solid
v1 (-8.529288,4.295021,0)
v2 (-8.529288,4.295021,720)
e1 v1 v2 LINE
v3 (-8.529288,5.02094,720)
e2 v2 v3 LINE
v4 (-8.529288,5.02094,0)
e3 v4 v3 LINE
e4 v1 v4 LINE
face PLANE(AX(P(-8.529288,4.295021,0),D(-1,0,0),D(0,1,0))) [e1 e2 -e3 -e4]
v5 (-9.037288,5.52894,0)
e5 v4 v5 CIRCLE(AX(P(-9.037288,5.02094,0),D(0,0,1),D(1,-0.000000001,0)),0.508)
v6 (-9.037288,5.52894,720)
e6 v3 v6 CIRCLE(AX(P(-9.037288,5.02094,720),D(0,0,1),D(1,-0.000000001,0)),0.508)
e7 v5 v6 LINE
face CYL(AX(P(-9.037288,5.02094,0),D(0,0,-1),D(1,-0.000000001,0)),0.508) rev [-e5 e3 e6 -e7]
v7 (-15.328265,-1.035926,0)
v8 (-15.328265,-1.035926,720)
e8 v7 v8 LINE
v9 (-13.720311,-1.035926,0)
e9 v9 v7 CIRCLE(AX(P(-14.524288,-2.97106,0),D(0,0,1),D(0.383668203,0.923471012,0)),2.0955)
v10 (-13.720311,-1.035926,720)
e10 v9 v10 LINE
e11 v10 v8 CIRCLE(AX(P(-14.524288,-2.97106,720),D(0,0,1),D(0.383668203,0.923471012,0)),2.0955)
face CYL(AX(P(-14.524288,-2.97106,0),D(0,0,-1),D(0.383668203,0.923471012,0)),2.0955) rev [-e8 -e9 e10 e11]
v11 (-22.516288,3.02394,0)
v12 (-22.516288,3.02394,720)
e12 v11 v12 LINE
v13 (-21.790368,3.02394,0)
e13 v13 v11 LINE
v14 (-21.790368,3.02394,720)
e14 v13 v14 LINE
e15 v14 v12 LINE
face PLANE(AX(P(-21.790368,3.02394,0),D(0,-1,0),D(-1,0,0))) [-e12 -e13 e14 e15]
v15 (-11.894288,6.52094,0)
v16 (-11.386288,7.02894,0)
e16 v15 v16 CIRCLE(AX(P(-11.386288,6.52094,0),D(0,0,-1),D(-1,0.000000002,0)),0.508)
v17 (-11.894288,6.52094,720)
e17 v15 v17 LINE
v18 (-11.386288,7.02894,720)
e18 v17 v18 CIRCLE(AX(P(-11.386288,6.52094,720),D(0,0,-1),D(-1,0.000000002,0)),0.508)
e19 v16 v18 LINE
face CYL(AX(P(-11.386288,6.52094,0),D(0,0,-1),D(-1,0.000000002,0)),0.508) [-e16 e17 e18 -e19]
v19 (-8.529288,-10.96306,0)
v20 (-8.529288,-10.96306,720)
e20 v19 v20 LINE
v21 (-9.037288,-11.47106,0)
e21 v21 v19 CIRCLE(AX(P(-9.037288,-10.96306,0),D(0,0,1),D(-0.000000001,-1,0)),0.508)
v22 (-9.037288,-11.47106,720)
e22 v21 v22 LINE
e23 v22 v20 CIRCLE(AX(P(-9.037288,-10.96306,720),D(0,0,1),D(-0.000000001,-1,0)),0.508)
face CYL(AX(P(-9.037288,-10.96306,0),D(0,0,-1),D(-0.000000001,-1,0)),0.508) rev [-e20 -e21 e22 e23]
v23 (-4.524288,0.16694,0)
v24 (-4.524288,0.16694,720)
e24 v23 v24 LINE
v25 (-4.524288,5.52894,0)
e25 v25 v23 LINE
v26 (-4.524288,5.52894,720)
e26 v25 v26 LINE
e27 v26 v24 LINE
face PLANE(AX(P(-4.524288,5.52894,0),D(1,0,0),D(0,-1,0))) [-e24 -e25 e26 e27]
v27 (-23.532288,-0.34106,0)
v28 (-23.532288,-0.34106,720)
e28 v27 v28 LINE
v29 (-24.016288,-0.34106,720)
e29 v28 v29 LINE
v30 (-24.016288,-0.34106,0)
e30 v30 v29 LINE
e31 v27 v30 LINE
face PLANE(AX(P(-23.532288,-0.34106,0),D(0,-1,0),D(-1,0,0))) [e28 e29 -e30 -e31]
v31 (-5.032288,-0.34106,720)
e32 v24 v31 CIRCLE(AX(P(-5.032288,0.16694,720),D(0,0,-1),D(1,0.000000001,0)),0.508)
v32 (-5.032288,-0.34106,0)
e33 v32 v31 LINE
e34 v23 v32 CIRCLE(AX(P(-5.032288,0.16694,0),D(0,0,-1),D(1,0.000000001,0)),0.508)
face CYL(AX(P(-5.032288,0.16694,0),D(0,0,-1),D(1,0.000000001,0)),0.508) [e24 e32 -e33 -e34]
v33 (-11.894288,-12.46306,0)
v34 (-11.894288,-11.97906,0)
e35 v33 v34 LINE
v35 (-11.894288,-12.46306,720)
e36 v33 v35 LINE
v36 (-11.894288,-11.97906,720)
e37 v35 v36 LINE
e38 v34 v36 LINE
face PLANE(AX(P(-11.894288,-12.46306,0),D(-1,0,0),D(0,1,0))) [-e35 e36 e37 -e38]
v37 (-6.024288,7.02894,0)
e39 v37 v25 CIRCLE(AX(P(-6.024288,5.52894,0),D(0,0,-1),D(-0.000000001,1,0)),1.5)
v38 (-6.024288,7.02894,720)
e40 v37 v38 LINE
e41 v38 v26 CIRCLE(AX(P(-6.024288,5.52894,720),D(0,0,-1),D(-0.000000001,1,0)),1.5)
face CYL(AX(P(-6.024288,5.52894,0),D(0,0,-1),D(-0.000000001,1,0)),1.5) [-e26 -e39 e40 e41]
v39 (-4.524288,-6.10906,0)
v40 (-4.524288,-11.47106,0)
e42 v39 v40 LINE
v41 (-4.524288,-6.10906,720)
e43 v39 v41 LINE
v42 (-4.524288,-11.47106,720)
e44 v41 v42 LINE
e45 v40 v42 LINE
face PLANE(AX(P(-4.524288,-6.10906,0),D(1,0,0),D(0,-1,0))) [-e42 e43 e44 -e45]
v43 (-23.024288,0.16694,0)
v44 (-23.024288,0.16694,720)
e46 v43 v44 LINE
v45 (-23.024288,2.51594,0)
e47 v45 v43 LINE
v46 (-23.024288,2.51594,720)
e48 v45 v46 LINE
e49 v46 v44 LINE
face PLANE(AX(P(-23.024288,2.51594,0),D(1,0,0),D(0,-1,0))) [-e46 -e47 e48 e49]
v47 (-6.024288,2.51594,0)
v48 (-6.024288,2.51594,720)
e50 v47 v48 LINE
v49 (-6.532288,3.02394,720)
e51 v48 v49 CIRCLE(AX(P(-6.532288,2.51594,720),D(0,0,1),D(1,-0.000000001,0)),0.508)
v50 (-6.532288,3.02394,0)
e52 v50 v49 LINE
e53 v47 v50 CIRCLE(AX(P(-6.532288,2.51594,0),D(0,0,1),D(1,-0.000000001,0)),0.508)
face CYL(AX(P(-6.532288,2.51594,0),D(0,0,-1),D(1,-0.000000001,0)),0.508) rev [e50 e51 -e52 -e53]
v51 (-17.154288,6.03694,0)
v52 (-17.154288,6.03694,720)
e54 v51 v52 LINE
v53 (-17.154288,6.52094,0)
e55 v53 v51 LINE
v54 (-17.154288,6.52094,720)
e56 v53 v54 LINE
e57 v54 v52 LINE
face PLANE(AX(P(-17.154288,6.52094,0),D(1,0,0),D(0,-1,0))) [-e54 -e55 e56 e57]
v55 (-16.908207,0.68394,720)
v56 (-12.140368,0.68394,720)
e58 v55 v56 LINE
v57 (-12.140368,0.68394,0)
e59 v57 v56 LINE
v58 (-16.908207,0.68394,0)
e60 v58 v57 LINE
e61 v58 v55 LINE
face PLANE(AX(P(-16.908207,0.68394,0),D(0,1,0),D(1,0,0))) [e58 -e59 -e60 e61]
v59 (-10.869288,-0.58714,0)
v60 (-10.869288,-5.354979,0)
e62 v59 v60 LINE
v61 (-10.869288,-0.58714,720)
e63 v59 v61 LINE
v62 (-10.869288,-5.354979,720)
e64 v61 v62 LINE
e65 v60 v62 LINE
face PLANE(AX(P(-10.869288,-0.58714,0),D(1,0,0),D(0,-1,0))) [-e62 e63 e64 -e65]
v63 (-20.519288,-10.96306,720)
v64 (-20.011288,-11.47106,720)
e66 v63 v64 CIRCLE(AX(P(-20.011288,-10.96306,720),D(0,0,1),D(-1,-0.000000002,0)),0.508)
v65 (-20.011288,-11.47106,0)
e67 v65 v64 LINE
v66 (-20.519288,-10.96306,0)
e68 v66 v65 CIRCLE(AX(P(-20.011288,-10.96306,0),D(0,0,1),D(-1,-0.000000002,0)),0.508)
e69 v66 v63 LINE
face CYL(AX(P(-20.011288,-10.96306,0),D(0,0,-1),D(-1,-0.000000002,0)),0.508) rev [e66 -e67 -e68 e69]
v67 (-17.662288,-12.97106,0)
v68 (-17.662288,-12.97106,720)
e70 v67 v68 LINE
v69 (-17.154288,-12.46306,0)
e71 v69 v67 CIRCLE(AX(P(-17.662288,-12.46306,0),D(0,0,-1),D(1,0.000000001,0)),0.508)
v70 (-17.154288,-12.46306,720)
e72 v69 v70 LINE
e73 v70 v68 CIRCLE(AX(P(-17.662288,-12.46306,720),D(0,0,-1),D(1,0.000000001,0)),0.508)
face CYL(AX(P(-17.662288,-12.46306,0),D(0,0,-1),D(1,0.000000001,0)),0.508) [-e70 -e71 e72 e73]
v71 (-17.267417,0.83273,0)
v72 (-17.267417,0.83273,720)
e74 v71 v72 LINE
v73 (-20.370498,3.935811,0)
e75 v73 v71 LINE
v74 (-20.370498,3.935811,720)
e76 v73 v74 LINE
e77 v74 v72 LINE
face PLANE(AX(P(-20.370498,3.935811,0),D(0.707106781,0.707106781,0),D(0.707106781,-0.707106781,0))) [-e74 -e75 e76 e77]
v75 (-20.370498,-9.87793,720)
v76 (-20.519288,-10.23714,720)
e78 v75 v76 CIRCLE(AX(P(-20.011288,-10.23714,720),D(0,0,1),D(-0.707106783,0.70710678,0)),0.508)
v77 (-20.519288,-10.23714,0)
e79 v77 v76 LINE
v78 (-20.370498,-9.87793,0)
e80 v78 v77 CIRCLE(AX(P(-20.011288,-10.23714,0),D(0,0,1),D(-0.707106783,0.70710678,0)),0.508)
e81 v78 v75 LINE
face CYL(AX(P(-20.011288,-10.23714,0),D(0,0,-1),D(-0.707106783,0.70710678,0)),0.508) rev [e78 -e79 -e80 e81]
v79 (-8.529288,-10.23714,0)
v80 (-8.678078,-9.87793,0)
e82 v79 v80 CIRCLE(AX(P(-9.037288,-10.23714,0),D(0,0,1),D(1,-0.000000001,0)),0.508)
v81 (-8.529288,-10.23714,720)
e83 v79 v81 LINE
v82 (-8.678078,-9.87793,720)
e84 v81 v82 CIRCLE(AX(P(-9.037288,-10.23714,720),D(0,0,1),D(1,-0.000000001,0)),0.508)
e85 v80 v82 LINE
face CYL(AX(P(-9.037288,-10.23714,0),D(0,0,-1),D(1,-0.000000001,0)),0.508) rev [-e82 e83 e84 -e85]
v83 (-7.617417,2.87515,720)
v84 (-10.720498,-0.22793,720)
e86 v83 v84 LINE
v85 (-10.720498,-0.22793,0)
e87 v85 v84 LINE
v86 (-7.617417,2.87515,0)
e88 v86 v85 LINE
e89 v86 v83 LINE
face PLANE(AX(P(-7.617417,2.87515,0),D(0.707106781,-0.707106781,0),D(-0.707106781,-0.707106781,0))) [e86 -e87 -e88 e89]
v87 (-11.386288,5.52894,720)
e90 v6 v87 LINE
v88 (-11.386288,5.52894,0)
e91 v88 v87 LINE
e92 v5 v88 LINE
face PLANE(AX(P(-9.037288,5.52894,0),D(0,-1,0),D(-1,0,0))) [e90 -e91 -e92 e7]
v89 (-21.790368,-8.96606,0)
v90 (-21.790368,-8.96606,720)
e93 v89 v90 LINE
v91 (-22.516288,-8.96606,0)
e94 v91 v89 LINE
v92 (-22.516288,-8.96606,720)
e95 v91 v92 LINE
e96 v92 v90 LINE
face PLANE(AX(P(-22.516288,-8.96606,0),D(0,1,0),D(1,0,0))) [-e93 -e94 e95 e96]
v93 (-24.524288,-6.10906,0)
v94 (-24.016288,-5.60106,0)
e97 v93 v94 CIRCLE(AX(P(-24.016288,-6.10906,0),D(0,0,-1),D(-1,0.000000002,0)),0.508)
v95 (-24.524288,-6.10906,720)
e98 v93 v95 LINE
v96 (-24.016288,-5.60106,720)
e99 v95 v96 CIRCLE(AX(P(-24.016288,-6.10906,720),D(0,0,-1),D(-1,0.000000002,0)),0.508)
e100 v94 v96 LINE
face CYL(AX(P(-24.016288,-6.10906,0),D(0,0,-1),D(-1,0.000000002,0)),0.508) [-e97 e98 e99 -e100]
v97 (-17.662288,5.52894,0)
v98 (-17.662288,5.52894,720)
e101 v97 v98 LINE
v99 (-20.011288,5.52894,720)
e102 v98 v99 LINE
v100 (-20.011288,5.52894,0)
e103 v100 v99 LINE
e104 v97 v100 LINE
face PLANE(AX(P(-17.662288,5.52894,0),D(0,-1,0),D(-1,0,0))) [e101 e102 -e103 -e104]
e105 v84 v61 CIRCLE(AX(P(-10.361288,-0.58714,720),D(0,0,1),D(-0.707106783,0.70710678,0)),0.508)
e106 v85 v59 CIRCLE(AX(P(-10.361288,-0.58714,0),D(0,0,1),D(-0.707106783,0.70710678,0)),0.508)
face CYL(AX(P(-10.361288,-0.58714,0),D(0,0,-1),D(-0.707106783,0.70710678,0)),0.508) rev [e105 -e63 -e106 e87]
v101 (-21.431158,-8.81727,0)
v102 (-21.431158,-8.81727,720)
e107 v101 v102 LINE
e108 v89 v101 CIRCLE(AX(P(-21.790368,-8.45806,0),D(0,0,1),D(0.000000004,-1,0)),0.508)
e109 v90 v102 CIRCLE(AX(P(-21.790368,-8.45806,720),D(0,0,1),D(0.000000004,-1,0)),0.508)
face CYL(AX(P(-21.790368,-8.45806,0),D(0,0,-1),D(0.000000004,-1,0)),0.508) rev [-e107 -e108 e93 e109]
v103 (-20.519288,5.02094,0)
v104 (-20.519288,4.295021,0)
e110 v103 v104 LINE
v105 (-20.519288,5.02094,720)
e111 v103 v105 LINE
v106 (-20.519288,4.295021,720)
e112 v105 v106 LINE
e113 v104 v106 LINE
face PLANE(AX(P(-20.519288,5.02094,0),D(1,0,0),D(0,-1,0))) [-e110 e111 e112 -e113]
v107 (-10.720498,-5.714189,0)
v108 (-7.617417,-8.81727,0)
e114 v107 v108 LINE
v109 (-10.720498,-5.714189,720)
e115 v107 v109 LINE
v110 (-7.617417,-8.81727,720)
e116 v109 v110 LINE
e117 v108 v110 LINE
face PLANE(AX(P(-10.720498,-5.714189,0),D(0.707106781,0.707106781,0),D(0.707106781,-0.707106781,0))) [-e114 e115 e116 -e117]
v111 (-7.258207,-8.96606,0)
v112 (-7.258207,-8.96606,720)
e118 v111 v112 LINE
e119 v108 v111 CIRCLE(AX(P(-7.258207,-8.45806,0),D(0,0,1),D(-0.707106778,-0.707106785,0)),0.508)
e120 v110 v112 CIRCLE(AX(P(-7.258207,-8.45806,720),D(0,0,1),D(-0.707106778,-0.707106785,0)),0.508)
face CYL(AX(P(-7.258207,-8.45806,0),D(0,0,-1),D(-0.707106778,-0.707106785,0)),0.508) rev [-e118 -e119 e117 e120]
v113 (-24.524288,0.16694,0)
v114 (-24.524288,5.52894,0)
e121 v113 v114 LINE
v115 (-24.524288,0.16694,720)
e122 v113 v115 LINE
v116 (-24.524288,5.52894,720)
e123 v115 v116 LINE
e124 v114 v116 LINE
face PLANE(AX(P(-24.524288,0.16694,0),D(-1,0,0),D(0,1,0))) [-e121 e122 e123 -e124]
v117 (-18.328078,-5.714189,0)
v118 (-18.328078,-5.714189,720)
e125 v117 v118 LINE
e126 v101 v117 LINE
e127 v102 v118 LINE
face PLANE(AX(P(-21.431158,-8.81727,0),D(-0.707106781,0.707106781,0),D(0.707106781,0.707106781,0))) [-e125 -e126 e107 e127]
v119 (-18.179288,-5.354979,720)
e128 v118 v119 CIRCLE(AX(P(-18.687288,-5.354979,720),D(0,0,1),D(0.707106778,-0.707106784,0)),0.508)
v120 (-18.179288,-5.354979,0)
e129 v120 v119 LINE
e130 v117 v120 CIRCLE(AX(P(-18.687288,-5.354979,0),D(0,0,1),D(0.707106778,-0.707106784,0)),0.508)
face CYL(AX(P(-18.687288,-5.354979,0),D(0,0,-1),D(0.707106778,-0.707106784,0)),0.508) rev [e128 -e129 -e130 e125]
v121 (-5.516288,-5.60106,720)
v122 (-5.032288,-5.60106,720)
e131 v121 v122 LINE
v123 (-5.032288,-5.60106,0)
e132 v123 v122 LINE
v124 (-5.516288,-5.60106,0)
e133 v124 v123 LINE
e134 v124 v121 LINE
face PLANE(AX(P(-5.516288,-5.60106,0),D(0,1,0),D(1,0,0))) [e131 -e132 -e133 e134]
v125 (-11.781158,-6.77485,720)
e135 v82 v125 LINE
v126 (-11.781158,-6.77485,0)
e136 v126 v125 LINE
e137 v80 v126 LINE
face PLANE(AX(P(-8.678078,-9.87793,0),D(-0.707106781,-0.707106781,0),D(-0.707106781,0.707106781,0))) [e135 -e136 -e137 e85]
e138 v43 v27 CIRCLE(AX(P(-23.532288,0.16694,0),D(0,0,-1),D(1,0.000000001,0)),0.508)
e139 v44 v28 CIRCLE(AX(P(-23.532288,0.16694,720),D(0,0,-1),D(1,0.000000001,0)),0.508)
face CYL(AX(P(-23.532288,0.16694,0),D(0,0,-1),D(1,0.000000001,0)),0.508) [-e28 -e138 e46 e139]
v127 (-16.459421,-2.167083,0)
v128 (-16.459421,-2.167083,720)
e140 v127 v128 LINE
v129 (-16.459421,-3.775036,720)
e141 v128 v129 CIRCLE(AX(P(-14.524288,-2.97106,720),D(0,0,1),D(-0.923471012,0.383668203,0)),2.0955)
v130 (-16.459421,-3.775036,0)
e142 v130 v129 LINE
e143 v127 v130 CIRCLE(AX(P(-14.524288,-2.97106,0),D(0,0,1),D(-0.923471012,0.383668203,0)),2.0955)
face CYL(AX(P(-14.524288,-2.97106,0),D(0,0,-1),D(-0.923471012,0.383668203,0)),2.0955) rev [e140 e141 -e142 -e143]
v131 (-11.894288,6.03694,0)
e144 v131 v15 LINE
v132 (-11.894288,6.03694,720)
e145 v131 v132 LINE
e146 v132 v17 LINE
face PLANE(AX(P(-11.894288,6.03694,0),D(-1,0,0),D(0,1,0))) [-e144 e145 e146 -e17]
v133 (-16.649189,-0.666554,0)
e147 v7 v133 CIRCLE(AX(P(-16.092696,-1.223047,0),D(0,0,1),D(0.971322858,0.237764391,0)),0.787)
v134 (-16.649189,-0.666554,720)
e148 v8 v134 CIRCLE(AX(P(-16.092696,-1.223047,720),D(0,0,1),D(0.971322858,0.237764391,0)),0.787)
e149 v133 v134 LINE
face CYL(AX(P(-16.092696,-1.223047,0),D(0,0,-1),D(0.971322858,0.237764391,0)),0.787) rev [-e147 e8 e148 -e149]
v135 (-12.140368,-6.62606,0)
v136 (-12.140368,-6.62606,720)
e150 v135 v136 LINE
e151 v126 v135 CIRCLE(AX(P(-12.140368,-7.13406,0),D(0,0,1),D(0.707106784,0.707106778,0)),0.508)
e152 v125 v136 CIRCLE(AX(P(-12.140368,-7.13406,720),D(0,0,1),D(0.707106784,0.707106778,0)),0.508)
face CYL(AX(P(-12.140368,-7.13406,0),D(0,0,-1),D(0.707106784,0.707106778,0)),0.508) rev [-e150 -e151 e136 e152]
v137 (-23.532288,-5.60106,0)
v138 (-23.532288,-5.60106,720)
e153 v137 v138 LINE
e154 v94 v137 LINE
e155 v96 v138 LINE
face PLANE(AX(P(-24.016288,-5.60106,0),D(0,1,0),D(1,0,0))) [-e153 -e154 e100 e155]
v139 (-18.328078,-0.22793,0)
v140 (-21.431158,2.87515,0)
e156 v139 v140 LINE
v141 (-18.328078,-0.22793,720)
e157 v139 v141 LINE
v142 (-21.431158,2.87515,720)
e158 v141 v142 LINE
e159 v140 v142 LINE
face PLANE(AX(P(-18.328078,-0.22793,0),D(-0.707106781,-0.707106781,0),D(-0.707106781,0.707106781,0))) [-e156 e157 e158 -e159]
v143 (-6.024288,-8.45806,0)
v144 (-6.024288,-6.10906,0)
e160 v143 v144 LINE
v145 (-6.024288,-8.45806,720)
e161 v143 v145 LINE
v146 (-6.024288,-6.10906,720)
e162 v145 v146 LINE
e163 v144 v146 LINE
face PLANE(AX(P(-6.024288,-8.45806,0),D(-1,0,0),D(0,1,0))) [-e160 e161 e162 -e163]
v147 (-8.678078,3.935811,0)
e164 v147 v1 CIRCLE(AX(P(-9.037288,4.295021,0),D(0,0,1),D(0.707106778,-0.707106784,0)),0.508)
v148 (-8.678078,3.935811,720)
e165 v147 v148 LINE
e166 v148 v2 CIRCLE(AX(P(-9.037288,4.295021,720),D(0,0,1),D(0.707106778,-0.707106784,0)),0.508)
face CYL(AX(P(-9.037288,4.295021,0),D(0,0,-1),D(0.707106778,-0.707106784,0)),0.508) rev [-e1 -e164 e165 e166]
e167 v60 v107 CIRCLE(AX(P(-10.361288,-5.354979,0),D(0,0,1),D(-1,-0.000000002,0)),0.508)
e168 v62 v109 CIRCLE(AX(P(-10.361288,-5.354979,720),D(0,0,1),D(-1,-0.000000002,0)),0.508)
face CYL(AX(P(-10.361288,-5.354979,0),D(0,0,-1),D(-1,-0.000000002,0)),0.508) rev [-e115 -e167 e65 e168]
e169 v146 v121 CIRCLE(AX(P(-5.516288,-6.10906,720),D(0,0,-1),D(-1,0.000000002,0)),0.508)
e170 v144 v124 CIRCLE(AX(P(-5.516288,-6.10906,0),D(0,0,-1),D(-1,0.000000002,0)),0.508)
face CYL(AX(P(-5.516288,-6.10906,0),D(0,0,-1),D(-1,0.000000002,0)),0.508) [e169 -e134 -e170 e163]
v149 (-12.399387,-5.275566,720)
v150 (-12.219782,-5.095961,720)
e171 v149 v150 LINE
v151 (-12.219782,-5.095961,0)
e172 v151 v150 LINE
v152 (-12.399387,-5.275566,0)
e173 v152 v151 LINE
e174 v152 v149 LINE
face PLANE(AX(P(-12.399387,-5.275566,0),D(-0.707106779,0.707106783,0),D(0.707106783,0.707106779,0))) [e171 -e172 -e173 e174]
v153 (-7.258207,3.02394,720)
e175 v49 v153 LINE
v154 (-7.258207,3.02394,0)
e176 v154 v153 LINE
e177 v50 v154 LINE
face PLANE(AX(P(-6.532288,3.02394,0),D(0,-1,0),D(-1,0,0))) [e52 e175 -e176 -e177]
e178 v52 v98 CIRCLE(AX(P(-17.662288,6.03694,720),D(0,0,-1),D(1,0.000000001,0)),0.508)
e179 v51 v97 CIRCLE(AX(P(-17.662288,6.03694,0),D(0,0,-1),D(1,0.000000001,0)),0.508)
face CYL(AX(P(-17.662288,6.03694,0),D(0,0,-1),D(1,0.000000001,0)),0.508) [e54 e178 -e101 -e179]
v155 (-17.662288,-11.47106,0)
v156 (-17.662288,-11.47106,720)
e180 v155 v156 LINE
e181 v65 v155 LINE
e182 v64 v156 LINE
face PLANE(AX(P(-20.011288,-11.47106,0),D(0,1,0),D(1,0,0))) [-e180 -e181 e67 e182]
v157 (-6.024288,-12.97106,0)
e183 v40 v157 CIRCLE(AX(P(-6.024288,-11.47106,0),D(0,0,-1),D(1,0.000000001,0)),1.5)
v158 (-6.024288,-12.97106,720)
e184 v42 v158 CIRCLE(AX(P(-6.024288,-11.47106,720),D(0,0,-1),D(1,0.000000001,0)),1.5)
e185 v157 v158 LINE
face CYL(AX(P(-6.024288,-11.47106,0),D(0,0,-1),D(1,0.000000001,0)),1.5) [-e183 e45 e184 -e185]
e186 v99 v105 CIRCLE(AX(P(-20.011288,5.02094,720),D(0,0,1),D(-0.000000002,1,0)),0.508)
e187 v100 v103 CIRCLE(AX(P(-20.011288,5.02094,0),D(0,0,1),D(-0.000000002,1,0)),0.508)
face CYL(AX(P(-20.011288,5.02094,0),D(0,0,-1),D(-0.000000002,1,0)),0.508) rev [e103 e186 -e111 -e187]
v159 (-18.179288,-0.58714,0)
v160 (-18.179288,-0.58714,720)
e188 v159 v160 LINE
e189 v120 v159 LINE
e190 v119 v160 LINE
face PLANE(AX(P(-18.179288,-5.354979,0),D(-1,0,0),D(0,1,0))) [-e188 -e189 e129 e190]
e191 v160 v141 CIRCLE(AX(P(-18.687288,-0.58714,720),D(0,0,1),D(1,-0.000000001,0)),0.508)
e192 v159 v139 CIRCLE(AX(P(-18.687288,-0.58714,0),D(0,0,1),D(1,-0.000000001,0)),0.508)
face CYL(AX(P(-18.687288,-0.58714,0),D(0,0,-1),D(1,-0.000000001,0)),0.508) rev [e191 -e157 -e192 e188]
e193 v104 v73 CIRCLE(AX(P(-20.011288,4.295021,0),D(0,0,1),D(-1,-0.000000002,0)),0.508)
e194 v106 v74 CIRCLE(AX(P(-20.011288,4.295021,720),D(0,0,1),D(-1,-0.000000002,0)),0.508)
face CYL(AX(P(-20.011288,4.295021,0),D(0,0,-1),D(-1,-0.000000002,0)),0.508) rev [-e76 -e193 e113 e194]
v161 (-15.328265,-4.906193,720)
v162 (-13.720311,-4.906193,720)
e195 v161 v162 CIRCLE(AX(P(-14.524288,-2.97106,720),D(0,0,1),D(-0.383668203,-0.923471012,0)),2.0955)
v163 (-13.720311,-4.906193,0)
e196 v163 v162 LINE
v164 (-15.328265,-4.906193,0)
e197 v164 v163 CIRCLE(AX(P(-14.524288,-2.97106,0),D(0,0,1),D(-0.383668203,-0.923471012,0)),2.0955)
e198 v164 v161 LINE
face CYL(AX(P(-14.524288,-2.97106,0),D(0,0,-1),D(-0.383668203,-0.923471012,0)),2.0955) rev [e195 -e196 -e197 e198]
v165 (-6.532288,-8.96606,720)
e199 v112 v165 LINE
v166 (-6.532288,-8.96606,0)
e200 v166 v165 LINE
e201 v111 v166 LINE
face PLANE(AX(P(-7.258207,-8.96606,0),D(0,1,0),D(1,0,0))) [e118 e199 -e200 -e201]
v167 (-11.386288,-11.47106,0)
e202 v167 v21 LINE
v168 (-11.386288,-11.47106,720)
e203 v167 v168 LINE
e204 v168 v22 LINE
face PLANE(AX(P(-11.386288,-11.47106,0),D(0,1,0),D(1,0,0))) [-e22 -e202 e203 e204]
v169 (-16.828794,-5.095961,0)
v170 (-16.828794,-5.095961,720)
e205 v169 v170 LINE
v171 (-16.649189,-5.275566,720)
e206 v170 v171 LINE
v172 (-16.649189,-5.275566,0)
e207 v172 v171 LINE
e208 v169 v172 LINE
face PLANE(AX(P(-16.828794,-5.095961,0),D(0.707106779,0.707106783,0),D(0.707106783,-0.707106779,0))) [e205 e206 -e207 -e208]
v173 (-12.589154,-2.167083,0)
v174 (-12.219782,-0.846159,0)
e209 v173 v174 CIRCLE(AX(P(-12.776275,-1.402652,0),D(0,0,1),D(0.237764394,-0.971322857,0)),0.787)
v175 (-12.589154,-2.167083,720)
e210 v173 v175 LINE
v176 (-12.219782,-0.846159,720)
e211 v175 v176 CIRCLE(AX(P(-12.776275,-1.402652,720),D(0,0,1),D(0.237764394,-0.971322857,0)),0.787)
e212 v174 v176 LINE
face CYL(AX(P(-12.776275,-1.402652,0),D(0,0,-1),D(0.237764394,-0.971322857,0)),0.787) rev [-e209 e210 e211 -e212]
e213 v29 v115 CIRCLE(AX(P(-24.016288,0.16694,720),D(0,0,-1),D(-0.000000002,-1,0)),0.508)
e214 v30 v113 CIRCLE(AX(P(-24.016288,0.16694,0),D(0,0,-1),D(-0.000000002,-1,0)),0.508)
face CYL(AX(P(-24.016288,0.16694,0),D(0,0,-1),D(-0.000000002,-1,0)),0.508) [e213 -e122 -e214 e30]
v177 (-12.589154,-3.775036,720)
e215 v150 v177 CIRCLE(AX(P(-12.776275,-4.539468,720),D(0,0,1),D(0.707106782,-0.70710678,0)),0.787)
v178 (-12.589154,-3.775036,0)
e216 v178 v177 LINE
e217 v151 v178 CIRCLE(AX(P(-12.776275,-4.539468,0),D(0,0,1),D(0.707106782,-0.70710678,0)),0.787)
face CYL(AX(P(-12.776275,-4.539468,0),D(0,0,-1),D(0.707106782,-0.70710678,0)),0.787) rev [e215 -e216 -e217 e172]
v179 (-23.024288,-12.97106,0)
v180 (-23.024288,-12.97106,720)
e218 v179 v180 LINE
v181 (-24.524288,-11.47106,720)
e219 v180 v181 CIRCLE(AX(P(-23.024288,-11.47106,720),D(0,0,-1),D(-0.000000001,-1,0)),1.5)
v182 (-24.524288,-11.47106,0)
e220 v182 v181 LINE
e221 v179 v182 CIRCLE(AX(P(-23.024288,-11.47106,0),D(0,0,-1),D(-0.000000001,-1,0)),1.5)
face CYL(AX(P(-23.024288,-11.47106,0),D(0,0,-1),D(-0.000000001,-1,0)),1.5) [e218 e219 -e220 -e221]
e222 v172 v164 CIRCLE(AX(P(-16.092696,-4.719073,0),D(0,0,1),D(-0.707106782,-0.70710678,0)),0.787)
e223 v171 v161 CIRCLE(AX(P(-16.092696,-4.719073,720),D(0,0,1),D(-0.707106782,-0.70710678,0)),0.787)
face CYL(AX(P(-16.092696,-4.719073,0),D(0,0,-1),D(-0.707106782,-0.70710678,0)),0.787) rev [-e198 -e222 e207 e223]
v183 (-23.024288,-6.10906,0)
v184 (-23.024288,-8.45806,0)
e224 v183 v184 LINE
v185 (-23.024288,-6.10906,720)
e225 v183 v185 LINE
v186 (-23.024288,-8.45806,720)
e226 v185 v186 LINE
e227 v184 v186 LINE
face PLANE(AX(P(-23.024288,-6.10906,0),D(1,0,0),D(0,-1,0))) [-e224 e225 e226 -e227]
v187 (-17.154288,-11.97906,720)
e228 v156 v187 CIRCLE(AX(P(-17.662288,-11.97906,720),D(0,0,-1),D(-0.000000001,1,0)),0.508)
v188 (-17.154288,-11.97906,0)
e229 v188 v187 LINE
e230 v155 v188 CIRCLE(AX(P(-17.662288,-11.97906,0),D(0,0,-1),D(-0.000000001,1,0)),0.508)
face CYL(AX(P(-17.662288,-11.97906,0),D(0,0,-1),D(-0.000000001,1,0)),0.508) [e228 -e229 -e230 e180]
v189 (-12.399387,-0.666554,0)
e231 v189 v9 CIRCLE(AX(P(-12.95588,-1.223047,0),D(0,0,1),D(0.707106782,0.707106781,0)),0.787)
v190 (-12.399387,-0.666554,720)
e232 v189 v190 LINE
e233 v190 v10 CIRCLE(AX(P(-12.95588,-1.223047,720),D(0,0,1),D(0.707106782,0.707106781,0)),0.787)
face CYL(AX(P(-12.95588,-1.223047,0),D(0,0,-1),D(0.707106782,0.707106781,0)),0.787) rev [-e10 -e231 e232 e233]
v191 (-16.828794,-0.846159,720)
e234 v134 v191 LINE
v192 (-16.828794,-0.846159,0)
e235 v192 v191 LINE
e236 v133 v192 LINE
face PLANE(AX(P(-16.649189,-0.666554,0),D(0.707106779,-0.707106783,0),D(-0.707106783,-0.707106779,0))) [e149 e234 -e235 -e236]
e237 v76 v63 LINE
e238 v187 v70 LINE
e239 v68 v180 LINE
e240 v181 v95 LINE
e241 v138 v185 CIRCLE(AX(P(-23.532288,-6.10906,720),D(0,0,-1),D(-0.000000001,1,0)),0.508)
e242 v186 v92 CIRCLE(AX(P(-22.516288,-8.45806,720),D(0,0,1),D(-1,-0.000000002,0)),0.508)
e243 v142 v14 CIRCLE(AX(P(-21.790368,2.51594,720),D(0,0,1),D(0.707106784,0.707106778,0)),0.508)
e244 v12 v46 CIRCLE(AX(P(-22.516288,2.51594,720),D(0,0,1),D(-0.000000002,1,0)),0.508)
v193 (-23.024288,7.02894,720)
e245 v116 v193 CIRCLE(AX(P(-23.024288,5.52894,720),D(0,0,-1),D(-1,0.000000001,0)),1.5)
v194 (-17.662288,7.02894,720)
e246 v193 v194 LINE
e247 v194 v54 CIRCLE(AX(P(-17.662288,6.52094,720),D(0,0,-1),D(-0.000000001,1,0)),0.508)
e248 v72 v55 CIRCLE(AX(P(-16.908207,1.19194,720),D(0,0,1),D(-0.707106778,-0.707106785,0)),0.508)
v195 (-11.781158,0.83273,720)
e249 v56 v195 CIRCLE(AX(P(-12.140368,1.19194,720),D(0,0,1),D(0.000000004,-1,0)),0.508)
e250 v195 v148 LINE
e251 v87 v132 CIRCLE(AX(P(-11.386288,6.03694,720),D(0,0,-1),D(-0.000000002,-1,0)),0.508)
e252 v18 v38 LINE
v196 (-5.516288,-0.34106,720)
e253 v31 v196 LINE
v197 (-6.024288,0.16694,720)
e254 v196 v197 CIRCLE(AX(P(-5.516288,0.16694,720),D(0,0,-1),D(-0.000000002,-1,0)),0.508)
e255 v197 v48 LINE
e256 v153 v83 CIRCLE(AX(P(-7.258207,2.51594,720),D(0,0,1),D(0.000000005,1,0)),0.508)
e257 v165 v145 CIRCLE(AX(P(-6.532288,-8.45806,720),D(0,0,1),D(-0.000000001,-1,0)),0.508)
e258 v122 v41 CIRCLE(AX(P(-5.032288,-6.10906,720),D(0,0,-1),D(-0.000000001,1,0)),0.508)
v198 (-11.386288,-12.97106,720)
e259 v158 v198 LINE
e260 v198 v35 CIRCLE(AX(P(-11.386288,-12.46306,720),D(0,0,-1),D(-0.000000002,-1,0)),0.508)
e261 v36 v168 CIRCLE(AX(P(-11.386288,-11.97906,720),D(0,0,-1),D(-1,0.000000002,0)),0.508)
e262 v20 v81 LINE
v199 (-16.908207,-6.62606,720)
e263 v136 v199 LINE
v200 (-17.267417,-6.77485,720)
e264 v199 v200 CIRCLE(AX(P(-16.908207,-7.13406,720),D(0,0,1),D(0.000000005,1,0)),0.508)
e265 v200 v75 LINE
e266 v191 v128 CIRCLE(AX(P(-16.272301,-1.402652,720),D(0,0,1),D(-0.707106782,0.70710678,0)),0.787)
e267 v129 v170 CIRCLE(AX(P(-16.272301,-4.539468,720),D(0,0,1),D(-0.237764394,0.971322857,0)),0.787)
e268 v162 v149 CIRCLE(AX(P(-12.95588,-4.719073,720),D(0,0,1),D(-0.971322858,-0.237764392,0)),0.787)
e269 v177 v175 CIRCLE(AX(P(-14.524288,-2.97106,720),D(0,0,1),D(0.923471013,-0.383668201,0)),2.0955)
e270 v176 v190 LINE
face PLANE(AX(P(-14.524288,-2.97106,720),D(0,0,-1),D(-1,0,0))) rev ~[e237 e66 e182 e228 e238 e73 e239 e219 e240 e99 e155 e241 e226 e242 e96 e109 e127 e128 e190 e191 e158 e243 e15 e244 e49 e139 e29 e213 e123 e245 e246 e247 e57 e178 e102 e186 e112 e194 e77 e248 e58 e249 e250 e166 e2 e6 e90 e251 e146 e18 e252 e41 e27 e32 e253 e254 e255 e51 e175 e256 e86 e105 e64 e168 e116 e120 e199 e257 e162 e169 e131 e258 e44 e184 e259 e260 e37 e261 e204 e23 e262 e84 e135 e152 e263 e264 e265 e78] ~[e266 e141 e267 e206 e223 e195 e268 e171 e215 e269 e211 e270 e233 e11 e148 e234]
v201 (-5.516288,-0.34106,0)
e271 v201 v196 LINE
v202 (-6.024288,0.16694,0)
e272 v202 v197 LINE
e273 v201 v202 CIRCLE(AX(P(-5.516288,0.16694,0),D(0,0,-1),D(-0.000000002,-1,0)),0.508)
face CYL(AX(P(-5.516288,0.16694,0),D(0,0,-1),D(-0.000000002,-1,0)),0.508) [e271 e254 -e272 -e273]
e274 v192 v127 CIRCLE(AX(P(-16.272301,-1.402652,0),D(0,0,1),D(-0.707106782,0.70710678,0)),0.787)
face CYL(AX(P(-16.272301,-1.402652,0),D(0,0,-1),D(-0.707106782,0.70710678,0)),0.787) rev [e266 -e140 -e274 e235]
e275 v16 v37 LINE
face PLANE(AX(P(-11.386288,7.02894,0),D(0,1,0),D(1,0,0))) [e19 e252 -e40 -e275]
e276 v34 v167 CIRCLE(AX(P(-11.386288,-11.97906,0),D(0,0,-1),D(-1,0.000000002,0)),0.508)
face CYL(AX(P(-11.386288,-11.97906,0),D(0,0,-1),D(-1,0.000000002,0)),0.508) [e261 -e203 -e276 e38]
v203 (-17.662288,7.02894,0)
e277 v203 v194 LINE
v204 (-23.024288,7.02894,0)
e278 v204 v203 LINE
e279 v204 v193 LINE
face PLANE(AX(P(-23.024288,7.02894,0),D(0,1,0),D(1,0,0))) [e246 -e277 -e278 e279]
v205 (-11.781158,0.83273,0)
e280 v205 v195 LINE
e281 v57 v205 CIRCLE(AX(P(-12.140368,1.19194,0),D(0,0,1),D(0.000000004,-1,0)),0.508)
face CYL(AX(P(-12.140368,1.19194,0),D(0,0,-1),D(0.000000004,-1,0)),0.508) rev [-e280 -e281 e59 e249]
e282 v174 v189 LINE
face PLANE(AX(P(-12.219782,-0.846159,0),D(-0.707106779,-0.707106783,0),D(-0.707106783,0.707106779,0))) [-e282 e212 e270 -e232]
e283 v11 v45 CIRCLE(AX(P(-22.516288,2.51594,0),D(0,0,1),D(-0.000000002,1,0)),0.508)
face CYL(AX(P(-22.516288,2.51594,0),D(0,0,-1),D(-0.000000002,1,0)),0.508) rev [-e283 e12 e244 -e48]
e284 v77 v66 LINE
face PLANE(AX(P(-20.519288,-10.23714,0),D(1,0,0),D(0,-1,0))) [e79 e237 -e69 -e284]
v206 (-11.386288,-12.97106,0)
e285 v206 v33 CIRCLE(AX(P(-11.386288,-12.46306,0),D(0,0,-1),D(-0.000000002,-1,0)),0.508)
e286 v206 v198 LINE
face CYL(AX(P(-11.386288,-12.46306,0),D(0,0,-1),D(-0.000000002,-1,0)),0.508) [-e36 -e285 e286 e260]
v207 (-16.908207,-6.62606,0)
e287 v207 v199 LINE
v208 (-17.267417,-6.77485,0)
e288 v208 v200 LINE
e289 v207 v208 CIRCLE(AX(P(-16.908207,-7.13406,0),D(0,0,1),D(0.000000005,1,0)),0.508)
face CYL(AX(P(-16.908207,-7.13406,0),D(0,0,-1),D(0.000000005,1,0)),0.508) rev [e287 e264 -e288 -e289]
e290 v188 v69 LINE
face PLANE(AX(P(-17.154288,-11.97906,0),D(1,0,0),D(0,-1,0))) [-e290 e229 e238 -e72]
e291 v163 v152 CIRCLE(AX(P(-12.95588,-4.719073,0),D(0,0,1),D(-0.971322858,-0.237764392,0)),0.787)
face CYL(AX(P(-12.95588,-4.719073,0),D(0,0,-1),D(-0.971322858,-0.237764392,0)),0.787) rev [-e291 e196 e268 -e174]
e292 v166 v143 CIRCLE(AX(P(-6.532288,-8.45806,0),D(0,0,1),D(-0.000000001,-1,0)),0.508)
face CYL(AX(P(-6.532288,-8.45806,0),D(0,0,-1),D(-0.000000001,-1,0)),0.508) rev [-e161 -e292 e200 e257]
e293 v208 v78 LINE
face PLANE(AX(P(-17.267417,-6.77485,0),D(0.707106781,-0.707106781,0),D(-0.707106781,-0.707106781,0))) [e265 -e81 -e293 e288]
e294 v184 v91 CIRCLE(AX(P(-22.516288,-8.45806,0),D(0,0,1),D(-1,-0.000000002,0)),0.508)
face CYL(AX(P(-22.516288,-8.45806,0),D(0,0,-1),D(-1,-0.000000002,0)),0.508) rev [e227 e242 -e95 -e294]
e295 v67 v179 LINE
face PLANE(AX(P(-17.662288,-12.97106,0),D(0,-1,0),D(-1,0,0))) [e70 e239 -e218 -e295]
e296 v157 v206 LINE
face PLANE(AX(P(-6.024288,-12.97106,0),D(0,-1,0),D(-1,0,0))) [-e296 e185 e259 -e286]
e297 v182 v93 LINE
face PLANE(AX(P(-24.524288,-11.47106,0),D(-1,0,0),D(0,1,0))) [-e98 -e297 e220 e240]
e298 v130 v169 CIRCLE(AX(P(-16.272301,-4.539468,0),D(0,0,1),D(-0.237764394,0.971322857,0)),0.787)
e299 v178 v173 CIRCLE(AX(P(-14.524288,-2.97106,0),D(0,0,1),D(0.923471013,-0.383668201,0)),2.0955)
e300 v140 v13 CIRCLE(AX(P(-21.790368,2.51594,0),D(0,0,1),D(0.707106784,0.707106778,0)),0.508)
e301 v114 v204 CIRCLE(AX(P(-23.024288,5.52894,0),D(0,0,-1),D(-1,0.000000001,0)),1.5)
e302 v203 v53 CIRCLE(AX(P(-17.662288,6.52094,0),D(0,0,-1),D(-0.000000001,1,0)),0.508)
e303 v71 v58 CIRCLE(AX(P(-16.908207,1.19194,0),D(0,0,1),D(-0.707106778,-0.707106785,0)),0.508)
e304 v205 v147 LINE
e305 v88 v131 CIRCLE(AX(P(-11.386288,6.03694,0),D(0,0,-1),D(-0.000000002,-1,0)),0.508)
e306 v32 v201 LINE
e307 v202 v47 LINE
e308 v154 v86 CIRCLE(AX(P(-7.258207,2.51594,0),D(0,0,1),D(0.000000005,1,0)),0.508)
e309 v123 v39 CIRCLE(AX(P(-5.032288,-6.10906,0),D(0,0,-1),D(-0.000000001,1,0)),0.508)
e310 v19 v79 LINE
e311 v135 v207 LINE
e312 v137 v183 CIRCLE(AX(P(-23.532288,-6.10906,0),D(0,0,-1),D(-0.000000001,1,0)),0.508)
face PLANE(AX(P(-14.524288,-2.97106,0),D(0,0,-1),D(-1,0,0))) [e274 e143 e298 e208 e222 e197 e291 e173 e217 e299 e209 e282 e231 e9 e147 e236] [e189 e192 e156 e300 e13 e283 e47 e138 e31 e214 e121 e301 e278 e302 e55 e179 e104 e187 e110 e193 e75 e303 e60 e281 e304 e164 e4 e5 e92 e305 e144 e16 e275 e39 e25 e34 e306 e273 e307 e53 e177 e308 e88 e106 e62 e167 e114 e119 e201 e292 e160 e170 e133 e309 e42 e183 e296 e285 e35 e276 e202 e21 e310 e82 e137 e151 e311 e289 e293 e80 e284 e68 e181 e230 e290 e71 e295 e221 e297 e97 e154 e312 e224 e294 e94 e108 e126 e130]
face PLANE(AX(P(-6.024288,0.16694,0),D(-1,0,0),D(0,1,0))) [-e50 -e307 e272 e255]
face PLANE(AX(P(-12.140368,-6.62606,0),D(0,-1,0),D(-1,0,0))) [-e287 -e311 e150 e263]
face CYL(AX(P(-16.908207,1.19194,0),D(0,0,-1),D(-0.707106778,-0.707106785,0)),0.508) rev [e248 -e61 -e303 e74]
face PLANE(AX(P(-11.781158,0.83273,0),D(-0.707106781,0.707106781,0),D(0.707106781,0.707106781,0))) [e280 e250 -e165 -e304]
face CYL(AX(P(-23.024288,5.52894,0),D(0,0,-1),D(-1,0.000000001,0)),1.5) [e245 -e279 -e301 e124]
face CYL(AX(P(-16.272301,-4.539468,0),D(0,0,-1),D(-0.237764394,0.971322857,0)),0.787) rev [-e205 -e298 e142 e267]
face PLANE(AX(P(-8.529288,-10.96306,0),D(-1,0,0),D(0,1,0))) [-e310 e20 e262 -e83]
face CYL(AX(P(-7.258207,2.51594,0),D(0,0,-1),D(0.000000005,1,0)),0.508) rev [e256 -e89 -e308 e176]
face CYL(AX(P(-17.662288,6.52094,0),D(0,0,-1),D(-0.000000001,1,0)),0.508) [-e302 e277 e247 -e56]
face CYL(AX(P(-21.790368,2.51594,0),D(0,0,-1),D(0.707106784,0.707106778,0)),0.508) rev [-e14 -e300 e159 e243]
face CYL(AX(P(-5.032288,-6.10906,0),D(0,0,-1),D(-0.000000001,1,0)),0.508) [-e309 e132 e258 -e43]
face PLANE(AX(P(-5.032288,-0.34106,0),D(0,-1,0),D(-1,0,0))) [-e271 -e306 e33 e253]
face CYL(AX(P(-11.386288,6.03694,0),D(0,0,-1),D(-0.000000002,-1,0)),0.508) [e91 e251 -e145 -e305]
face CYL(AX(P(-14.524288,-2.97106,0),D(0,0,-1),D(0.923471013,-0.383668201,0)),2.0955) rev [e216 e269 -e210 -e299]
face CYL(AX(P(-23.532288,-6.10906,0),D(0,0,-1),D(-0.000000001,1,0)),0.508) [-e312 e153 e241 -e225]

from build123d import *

# Parameters (mm, degrees)
EXTRUDE1_DEPTH = 720


with BuildPart() as part:
    # Sketch1 → Extrude1 (new body)
    with BuildSketch(Plane.XY):
        with BuildLine():
            Line((-5.032287798, -0.341059771), (-5.516287798, -0.341059771))
            ThreePointArc((-5.516287798, -0.341059771), (-5.875498042, -0.192270016), (-6.024287798, 0.166940229))
            Line((-6.024287798, 0.166940229), (-6.024287798, 2.515940229))
            ThreePointArc((-6.024287798, 2.515940229), (-6.173077553, 2.875150474), (-6.532287798, 3.023940229))
            Line((-6.532287798, 3.023940229), (-7.258207136, 3.023940229))
            ThreePointArc((-7.258207136, 3.023940229), (-7.45261032, 2.985271032), (-7.617417381, 2.875150474))
            Line((-7.617417381, 2.875150474), (-10.720498042, -0.227930187))
            ThreePointArc((-10.720498042, -0.227930187), (-10.8306186, -0.392737249), (-10.869287798, -0.587140432))
            Line((-10.869287798, -0.587140432), (-10.869287798, -5.354979109))
            ThreePointArc((-10.869287798, -5.354979109), (-10.8306186, -5.549382293), (-10.720498042, -5.714189354))
            Line((-10.720498042, -5.714189354), (-7.617417381, -8.817270016))
            ThreePointArc((-7.617417381, -8.817270016), (-7.45261032, -8.927390573), (-7.258207136, -8.966059771))
            Line((-7.258207136, -8.966059771), (-6.532287798, -8.966059771))
            ThreePointArc((-6.532287798, -8.966059771), (-6.173077553, -8.817270016), (-6.024287798, -8.458059771))
            Line((-6.024287798, -8.458059771), (-6.024287798, -6.109059771))
            ThreePointArc((-6.024287798, -6.109059771), (-5.875498042, -5.749849526), (-5.516287798, -5.601059771))
            Line((-5.516287798, -5.601059771), (-5.032287798, -5.601059771))
            ThreePointArc((-5.032287798, -5.601059771), (-4.673077553, -5.749849526), (-4.524287798, -6.109059771))
            Line((-4.524287798, -6.109059771), (-4.524287798, -11.471059771))
            ThreePointArc((-4.524287798, -11.471059771), (-4.963627626, -12.531719943), (-6.024287798, -12.971059771))
            Line((-6.024287798, -12.971059771), (-11.386287798, -12.971059771))
            ThreePointArc((-11.386287798, -12.971059771), (-11.745498042, -12.822270016), (-11.894287798, -12.463059771))
            Line((-11.894287798, -12.463059771), (-11.894287798, -11.979059771))
            ThreePointArc((-11.894287798, -11.979059771), (-11.745498042, -11.619849526), (-11.386287798, -11.471059771))
            Line((-11.386287798, -11.471059771), (-9.037287798, -11.471059771))
            ThreePointArc((-9.037287798, -11.471059771), (-8.678077553, -11.322270016), (-8.529287798, -10.963059771))
            Line((-8.529287798, -10.963059771), (-8.529287798, -10.237140432))
            ThreePointArc((-8.529287798, -10.237140432), (-8.567956995, -10.042737249), (-8.678077553, -9.877930187))
            Line((-8.678077553, -9.877930187), (-11.781158214, -6.774849526))
            ThreePointArc((-11.781158214, -6.774849526), (-11.945965275, -6.664728968), (-12.140368459, -6.626059771))
            Line((-12.140368459, -6.626059771), (-16.908207136, -6.626059771))
            ThreePointArc((-16.908207136, -6.626059771), (-17.10261032, -6.664728968), (-17.267417381, -6.774849526))
            Line((-17.267417381, -6.774849526), (-20.370498042, -9.877930187))
            ThreePointArc((-20.370498042, -9.877930187), (-20.4806186, -10.042737249), (-20.519287798, -10.237140432))
            Line((-20.519287798, -10.237140432), (-20.519287798, -10.963059771))
            ThreePointArc((-20.519287798, -10.963059771), (-20.370498042, -11.322270016), (-20.011287798, -11.471059771))
            Line((-20.011287798, -11.471059771), (-17.662287798, -11.471059771))
            ThreePointArc((-17.662287798, -11.471059771), (-17.303077553, -11.619849526), (-17.154287798, -11.979059771))
            Line((-17.154287798, -11.979059771), (-17.154287798, -12.463059771))
            ThreePointArc((-17.154287798, -12.463059771), (-17.303077553, -12.822270016), (-17.662287798, -12.971059771))
            Line((-17.662287798, -12.971059771), (-23.024287798, -12.971059771))
            ThreePointArc((-23.024287798, -12.971059771), (-24.084947969, -12.531719943), (-24.524287798, -11.471059771))
            Line((-24.524287798, -11.471059771), (-24.524287798, -6.109059771))
            ThreePointArc((-24.524287798, -6.109059771), (-24.375498042, -5.749849526), (-24.016287798, -5.601059771))
            Line((-24.016287798, -5.601059771), (-23.532287798, -5.601059771))
            ThreePointArc((-23.532287798, -5.601059771), (-23.173077553, -5.749849526), (-23.024287798, -6.109059771))
            Line((-23.024287798, -6.109059771), (-23.024287798, -8.458059771))
            ThreePointArc((-23.024287798, -8.458059771), (-22.875498042, -8.817270016), (-22.516287798, -8.966059771))
            Line((-22.516287798, -8.966059771), (-21.790368459, -8.966059771))
            ThreePointArc((-21.790368459, -8.966059771), (-21.595965275, -8.927390573), (-21.431158214, -8.817270016))
            Line((-21.431158214, -8.817270016), (-18.328077553, -5.714189354))
            ThreePointArc((-18.328077553, -5.714189354), (-18.217956995, -5.549382293), (-18.179287798, -5.354979109))
            Line((-18.179287798, -5.354979109), (-18.179287798, -0.587140432))
            ThreePointArc((-18.179287798, -0.587140432), (-18.217956995, -0.392737249), (-18.328077553, -0.227930187))
            Line((-18.328077553, -0.227930187), (-21.431158214, 2.875150474))
            ThreePointArc((-21.431158214, 2.875150474), (-21.595965275, 2.985271032), (-21.790368459, 3.023940229))
            Line((-21.790368459, 3.023940229), (-22.516287798, 3.023940229))
            ThreePointArc((-22.516287798, 3.023940229), (-22.875498042, 2.875150474), (-23.024287798, 2.515940229))
            Line((-23.024287798, 2.515940229), (-23.024287798, 0.166940229))
            ThreePointArc((-23.024287798, 0.166940229), (-23.173077553, -0.192270016), (-23.532287798, -0.341059771))
            Line((-23.532287798, -0.341059771), (-24.016287798, -0.341059771))
            ThreePointArc((-24.016287798, -0.341059771), (-24.375498042, -0.192270016), (-24.524287798, 0.166940229))
            Line((-24.524287798, 0.166940229), (-24.524287798, 5.528940229))
            ThreePointArc((-24.524287798, 5.528940229), (-24.084947969, 6.589600401), (-23.024287798, 7.028940229))
            Line((-23.024287798, 7.028940229), (-17.662287798, 7.028940229))
            ThreePointArc((-17.662287798, 7.028940229), (-17.303077553, 6.880150474), (-17.154287798, 6.520940229))
            Line((-17.154287798, 6.520940229), (-17.154287798, 6.036940229))
            ThreePointArc((-17.154287798, 6.036940229), (-17.303077553, 5.677729984), (-17.662287798, 5.528940229))
            Line((-17.662287798, 5.528940229), (-20.011287798, 5.528940229))
            ThreePointArc((-20.011287798, 5.528940229), (-20.370498042, 5.380150474), (-20.519287798, 5.020940229))
            Line((-20.519287798, 5.020940229), (-20.519287798, 4.295020891))
            ThreePointArc((-20.519287798, 4.295020891), (-20.4806186, 4.100617707), (-20.370498042, 3.935810646))
            Line((-20.370498042, 3.935810646), (-17.267417381, 0.832729984))
            ThreePointArc((-17.267417381, 0.832729984), (-17.10261032, 0.722609427), (-16.908207136, 0.683940229))
            Line((-16.908207136, 0.683940229), (-12.140368459, 0.683940229))
            ThreePointArc((-12.140368459, 0.683940229), (-11.945965275, 0.722609427), (-11.781158214, 0.832729984))
            Line((-11.781158214, 0.832729984), (-8.678077553, 3.935810646))
            ThreePointArc((-8.678077553, 3.935810646), (-8.567956995, 4.100617707), (-8.529287798, 4.295020891))
            Line((-8.529287798, 4.295020891), (-8.529287798, 5.020940229))
            ThreePointArc((-8.529287798, 5.020940229), (-8.678077553, 5.380150474), (-9.037287798, 5.528940229))
            Line((-9.037287798, 5.528940229), (-11.386287798, 5.528940229))
            ThreePointArc((-11.386287798, 5.528940229), (-11.745498042, 5.677729984), (-11.894287798, 6.036940229))
            Line((-11.894287798, 6.036940229), (-11.894287798, 6.520940229))
            ThreePointArc((-11.894287798, 6.520940229), (-11.745498042, 6.880150474), (-11.386287798, 7.028940229))
            Line((-11.386287798, 7.028940229), (-6.024287798, 7.028940229))
            ThreePointArc((-6.024287798, 7.028940229), (-4.963627626, 6.589600401), (-4.524287798, 5.528940229))
            Line((-4.524287798, 5.528940229), (-4.524287798, 0.166940229))
            ThreePointArc((-4.524287798, 0.166940229), (-4.673077553, -0.192270016), (-5.032287798, -0.341059771))
        make_face()
        with BuildLine():
            Line((-12.399386954, -5.275565737), (-12.219781831, -5.095960615))
            ThreePointArc((-12.219781831, -5.095960615), (-12.018349781, -4.327527582), (-12.589154291, -3.775036489))
            ThreePointArc((-12.589154291, -3.775036489), (-12.428787798, -2.971059771), (-12.589154291, -2.167083053))
            ThreePointArc((-12.589154291, -2.167083053), (-12.018349781, -1.61459196), (-12.219781831, -0.846158927))
            Line((-12.219781831, -0.846158927), (-12.399386954, -0.666553805))
            ThreePointArc((-12.399386954, -0.666553805), (-13.167819987, -0.465121754), (-13.72031108, -1.035926265))
            ThreePointArc((-13.72031108, -1.035926265), (-14.524287798, -0.875559771), (-15.328264516, -1.035926265))
            ThreePointArc((-15.328264516, -1.035926265), (-15.880755608, -0.465121754), (-16.649188641, -0.666553805))
            Line((-16.649188641, -0.666553805), (-16.828793764, -0.846158927))
            ThreePointArc((-16.828793764, -0.846158927), (-17.030225814, -1.61459196), (-16.459421304, -2.167083053))
            ThreePointArc((-16.459421304, -2.167083053), (-16.619787798, -2.971059771), (-16.459421304, -3.775036489))
            ThreePointArc((-16.459421304, -3.775036489), (-17.030225814, -4.327527582), (-16.828793764, -5.095960615))
            Line((-16.828793764, -5.095960615), (-16.649188641, -5.275565737))
            ThreePointArc((-16.649188641, -5.275565737), (-15.880755608, -5.476997788), (-15.328264516, -4.906193277))
            ThreePointArc((-15.328264516, -4.906193277), (-14.524287798, -5.066559771), (-13.72031108, -4.906193277))
            ThreePointArc((-13.72031108, -4.906193277), (-13.167819987, -5.476997788), (-12.399386954, -5.275565737))
        make_face(mode=Mode.SUBTRACT)
    extrude(amount=EXTRUDE1_DEPTH)


solid = part.part
